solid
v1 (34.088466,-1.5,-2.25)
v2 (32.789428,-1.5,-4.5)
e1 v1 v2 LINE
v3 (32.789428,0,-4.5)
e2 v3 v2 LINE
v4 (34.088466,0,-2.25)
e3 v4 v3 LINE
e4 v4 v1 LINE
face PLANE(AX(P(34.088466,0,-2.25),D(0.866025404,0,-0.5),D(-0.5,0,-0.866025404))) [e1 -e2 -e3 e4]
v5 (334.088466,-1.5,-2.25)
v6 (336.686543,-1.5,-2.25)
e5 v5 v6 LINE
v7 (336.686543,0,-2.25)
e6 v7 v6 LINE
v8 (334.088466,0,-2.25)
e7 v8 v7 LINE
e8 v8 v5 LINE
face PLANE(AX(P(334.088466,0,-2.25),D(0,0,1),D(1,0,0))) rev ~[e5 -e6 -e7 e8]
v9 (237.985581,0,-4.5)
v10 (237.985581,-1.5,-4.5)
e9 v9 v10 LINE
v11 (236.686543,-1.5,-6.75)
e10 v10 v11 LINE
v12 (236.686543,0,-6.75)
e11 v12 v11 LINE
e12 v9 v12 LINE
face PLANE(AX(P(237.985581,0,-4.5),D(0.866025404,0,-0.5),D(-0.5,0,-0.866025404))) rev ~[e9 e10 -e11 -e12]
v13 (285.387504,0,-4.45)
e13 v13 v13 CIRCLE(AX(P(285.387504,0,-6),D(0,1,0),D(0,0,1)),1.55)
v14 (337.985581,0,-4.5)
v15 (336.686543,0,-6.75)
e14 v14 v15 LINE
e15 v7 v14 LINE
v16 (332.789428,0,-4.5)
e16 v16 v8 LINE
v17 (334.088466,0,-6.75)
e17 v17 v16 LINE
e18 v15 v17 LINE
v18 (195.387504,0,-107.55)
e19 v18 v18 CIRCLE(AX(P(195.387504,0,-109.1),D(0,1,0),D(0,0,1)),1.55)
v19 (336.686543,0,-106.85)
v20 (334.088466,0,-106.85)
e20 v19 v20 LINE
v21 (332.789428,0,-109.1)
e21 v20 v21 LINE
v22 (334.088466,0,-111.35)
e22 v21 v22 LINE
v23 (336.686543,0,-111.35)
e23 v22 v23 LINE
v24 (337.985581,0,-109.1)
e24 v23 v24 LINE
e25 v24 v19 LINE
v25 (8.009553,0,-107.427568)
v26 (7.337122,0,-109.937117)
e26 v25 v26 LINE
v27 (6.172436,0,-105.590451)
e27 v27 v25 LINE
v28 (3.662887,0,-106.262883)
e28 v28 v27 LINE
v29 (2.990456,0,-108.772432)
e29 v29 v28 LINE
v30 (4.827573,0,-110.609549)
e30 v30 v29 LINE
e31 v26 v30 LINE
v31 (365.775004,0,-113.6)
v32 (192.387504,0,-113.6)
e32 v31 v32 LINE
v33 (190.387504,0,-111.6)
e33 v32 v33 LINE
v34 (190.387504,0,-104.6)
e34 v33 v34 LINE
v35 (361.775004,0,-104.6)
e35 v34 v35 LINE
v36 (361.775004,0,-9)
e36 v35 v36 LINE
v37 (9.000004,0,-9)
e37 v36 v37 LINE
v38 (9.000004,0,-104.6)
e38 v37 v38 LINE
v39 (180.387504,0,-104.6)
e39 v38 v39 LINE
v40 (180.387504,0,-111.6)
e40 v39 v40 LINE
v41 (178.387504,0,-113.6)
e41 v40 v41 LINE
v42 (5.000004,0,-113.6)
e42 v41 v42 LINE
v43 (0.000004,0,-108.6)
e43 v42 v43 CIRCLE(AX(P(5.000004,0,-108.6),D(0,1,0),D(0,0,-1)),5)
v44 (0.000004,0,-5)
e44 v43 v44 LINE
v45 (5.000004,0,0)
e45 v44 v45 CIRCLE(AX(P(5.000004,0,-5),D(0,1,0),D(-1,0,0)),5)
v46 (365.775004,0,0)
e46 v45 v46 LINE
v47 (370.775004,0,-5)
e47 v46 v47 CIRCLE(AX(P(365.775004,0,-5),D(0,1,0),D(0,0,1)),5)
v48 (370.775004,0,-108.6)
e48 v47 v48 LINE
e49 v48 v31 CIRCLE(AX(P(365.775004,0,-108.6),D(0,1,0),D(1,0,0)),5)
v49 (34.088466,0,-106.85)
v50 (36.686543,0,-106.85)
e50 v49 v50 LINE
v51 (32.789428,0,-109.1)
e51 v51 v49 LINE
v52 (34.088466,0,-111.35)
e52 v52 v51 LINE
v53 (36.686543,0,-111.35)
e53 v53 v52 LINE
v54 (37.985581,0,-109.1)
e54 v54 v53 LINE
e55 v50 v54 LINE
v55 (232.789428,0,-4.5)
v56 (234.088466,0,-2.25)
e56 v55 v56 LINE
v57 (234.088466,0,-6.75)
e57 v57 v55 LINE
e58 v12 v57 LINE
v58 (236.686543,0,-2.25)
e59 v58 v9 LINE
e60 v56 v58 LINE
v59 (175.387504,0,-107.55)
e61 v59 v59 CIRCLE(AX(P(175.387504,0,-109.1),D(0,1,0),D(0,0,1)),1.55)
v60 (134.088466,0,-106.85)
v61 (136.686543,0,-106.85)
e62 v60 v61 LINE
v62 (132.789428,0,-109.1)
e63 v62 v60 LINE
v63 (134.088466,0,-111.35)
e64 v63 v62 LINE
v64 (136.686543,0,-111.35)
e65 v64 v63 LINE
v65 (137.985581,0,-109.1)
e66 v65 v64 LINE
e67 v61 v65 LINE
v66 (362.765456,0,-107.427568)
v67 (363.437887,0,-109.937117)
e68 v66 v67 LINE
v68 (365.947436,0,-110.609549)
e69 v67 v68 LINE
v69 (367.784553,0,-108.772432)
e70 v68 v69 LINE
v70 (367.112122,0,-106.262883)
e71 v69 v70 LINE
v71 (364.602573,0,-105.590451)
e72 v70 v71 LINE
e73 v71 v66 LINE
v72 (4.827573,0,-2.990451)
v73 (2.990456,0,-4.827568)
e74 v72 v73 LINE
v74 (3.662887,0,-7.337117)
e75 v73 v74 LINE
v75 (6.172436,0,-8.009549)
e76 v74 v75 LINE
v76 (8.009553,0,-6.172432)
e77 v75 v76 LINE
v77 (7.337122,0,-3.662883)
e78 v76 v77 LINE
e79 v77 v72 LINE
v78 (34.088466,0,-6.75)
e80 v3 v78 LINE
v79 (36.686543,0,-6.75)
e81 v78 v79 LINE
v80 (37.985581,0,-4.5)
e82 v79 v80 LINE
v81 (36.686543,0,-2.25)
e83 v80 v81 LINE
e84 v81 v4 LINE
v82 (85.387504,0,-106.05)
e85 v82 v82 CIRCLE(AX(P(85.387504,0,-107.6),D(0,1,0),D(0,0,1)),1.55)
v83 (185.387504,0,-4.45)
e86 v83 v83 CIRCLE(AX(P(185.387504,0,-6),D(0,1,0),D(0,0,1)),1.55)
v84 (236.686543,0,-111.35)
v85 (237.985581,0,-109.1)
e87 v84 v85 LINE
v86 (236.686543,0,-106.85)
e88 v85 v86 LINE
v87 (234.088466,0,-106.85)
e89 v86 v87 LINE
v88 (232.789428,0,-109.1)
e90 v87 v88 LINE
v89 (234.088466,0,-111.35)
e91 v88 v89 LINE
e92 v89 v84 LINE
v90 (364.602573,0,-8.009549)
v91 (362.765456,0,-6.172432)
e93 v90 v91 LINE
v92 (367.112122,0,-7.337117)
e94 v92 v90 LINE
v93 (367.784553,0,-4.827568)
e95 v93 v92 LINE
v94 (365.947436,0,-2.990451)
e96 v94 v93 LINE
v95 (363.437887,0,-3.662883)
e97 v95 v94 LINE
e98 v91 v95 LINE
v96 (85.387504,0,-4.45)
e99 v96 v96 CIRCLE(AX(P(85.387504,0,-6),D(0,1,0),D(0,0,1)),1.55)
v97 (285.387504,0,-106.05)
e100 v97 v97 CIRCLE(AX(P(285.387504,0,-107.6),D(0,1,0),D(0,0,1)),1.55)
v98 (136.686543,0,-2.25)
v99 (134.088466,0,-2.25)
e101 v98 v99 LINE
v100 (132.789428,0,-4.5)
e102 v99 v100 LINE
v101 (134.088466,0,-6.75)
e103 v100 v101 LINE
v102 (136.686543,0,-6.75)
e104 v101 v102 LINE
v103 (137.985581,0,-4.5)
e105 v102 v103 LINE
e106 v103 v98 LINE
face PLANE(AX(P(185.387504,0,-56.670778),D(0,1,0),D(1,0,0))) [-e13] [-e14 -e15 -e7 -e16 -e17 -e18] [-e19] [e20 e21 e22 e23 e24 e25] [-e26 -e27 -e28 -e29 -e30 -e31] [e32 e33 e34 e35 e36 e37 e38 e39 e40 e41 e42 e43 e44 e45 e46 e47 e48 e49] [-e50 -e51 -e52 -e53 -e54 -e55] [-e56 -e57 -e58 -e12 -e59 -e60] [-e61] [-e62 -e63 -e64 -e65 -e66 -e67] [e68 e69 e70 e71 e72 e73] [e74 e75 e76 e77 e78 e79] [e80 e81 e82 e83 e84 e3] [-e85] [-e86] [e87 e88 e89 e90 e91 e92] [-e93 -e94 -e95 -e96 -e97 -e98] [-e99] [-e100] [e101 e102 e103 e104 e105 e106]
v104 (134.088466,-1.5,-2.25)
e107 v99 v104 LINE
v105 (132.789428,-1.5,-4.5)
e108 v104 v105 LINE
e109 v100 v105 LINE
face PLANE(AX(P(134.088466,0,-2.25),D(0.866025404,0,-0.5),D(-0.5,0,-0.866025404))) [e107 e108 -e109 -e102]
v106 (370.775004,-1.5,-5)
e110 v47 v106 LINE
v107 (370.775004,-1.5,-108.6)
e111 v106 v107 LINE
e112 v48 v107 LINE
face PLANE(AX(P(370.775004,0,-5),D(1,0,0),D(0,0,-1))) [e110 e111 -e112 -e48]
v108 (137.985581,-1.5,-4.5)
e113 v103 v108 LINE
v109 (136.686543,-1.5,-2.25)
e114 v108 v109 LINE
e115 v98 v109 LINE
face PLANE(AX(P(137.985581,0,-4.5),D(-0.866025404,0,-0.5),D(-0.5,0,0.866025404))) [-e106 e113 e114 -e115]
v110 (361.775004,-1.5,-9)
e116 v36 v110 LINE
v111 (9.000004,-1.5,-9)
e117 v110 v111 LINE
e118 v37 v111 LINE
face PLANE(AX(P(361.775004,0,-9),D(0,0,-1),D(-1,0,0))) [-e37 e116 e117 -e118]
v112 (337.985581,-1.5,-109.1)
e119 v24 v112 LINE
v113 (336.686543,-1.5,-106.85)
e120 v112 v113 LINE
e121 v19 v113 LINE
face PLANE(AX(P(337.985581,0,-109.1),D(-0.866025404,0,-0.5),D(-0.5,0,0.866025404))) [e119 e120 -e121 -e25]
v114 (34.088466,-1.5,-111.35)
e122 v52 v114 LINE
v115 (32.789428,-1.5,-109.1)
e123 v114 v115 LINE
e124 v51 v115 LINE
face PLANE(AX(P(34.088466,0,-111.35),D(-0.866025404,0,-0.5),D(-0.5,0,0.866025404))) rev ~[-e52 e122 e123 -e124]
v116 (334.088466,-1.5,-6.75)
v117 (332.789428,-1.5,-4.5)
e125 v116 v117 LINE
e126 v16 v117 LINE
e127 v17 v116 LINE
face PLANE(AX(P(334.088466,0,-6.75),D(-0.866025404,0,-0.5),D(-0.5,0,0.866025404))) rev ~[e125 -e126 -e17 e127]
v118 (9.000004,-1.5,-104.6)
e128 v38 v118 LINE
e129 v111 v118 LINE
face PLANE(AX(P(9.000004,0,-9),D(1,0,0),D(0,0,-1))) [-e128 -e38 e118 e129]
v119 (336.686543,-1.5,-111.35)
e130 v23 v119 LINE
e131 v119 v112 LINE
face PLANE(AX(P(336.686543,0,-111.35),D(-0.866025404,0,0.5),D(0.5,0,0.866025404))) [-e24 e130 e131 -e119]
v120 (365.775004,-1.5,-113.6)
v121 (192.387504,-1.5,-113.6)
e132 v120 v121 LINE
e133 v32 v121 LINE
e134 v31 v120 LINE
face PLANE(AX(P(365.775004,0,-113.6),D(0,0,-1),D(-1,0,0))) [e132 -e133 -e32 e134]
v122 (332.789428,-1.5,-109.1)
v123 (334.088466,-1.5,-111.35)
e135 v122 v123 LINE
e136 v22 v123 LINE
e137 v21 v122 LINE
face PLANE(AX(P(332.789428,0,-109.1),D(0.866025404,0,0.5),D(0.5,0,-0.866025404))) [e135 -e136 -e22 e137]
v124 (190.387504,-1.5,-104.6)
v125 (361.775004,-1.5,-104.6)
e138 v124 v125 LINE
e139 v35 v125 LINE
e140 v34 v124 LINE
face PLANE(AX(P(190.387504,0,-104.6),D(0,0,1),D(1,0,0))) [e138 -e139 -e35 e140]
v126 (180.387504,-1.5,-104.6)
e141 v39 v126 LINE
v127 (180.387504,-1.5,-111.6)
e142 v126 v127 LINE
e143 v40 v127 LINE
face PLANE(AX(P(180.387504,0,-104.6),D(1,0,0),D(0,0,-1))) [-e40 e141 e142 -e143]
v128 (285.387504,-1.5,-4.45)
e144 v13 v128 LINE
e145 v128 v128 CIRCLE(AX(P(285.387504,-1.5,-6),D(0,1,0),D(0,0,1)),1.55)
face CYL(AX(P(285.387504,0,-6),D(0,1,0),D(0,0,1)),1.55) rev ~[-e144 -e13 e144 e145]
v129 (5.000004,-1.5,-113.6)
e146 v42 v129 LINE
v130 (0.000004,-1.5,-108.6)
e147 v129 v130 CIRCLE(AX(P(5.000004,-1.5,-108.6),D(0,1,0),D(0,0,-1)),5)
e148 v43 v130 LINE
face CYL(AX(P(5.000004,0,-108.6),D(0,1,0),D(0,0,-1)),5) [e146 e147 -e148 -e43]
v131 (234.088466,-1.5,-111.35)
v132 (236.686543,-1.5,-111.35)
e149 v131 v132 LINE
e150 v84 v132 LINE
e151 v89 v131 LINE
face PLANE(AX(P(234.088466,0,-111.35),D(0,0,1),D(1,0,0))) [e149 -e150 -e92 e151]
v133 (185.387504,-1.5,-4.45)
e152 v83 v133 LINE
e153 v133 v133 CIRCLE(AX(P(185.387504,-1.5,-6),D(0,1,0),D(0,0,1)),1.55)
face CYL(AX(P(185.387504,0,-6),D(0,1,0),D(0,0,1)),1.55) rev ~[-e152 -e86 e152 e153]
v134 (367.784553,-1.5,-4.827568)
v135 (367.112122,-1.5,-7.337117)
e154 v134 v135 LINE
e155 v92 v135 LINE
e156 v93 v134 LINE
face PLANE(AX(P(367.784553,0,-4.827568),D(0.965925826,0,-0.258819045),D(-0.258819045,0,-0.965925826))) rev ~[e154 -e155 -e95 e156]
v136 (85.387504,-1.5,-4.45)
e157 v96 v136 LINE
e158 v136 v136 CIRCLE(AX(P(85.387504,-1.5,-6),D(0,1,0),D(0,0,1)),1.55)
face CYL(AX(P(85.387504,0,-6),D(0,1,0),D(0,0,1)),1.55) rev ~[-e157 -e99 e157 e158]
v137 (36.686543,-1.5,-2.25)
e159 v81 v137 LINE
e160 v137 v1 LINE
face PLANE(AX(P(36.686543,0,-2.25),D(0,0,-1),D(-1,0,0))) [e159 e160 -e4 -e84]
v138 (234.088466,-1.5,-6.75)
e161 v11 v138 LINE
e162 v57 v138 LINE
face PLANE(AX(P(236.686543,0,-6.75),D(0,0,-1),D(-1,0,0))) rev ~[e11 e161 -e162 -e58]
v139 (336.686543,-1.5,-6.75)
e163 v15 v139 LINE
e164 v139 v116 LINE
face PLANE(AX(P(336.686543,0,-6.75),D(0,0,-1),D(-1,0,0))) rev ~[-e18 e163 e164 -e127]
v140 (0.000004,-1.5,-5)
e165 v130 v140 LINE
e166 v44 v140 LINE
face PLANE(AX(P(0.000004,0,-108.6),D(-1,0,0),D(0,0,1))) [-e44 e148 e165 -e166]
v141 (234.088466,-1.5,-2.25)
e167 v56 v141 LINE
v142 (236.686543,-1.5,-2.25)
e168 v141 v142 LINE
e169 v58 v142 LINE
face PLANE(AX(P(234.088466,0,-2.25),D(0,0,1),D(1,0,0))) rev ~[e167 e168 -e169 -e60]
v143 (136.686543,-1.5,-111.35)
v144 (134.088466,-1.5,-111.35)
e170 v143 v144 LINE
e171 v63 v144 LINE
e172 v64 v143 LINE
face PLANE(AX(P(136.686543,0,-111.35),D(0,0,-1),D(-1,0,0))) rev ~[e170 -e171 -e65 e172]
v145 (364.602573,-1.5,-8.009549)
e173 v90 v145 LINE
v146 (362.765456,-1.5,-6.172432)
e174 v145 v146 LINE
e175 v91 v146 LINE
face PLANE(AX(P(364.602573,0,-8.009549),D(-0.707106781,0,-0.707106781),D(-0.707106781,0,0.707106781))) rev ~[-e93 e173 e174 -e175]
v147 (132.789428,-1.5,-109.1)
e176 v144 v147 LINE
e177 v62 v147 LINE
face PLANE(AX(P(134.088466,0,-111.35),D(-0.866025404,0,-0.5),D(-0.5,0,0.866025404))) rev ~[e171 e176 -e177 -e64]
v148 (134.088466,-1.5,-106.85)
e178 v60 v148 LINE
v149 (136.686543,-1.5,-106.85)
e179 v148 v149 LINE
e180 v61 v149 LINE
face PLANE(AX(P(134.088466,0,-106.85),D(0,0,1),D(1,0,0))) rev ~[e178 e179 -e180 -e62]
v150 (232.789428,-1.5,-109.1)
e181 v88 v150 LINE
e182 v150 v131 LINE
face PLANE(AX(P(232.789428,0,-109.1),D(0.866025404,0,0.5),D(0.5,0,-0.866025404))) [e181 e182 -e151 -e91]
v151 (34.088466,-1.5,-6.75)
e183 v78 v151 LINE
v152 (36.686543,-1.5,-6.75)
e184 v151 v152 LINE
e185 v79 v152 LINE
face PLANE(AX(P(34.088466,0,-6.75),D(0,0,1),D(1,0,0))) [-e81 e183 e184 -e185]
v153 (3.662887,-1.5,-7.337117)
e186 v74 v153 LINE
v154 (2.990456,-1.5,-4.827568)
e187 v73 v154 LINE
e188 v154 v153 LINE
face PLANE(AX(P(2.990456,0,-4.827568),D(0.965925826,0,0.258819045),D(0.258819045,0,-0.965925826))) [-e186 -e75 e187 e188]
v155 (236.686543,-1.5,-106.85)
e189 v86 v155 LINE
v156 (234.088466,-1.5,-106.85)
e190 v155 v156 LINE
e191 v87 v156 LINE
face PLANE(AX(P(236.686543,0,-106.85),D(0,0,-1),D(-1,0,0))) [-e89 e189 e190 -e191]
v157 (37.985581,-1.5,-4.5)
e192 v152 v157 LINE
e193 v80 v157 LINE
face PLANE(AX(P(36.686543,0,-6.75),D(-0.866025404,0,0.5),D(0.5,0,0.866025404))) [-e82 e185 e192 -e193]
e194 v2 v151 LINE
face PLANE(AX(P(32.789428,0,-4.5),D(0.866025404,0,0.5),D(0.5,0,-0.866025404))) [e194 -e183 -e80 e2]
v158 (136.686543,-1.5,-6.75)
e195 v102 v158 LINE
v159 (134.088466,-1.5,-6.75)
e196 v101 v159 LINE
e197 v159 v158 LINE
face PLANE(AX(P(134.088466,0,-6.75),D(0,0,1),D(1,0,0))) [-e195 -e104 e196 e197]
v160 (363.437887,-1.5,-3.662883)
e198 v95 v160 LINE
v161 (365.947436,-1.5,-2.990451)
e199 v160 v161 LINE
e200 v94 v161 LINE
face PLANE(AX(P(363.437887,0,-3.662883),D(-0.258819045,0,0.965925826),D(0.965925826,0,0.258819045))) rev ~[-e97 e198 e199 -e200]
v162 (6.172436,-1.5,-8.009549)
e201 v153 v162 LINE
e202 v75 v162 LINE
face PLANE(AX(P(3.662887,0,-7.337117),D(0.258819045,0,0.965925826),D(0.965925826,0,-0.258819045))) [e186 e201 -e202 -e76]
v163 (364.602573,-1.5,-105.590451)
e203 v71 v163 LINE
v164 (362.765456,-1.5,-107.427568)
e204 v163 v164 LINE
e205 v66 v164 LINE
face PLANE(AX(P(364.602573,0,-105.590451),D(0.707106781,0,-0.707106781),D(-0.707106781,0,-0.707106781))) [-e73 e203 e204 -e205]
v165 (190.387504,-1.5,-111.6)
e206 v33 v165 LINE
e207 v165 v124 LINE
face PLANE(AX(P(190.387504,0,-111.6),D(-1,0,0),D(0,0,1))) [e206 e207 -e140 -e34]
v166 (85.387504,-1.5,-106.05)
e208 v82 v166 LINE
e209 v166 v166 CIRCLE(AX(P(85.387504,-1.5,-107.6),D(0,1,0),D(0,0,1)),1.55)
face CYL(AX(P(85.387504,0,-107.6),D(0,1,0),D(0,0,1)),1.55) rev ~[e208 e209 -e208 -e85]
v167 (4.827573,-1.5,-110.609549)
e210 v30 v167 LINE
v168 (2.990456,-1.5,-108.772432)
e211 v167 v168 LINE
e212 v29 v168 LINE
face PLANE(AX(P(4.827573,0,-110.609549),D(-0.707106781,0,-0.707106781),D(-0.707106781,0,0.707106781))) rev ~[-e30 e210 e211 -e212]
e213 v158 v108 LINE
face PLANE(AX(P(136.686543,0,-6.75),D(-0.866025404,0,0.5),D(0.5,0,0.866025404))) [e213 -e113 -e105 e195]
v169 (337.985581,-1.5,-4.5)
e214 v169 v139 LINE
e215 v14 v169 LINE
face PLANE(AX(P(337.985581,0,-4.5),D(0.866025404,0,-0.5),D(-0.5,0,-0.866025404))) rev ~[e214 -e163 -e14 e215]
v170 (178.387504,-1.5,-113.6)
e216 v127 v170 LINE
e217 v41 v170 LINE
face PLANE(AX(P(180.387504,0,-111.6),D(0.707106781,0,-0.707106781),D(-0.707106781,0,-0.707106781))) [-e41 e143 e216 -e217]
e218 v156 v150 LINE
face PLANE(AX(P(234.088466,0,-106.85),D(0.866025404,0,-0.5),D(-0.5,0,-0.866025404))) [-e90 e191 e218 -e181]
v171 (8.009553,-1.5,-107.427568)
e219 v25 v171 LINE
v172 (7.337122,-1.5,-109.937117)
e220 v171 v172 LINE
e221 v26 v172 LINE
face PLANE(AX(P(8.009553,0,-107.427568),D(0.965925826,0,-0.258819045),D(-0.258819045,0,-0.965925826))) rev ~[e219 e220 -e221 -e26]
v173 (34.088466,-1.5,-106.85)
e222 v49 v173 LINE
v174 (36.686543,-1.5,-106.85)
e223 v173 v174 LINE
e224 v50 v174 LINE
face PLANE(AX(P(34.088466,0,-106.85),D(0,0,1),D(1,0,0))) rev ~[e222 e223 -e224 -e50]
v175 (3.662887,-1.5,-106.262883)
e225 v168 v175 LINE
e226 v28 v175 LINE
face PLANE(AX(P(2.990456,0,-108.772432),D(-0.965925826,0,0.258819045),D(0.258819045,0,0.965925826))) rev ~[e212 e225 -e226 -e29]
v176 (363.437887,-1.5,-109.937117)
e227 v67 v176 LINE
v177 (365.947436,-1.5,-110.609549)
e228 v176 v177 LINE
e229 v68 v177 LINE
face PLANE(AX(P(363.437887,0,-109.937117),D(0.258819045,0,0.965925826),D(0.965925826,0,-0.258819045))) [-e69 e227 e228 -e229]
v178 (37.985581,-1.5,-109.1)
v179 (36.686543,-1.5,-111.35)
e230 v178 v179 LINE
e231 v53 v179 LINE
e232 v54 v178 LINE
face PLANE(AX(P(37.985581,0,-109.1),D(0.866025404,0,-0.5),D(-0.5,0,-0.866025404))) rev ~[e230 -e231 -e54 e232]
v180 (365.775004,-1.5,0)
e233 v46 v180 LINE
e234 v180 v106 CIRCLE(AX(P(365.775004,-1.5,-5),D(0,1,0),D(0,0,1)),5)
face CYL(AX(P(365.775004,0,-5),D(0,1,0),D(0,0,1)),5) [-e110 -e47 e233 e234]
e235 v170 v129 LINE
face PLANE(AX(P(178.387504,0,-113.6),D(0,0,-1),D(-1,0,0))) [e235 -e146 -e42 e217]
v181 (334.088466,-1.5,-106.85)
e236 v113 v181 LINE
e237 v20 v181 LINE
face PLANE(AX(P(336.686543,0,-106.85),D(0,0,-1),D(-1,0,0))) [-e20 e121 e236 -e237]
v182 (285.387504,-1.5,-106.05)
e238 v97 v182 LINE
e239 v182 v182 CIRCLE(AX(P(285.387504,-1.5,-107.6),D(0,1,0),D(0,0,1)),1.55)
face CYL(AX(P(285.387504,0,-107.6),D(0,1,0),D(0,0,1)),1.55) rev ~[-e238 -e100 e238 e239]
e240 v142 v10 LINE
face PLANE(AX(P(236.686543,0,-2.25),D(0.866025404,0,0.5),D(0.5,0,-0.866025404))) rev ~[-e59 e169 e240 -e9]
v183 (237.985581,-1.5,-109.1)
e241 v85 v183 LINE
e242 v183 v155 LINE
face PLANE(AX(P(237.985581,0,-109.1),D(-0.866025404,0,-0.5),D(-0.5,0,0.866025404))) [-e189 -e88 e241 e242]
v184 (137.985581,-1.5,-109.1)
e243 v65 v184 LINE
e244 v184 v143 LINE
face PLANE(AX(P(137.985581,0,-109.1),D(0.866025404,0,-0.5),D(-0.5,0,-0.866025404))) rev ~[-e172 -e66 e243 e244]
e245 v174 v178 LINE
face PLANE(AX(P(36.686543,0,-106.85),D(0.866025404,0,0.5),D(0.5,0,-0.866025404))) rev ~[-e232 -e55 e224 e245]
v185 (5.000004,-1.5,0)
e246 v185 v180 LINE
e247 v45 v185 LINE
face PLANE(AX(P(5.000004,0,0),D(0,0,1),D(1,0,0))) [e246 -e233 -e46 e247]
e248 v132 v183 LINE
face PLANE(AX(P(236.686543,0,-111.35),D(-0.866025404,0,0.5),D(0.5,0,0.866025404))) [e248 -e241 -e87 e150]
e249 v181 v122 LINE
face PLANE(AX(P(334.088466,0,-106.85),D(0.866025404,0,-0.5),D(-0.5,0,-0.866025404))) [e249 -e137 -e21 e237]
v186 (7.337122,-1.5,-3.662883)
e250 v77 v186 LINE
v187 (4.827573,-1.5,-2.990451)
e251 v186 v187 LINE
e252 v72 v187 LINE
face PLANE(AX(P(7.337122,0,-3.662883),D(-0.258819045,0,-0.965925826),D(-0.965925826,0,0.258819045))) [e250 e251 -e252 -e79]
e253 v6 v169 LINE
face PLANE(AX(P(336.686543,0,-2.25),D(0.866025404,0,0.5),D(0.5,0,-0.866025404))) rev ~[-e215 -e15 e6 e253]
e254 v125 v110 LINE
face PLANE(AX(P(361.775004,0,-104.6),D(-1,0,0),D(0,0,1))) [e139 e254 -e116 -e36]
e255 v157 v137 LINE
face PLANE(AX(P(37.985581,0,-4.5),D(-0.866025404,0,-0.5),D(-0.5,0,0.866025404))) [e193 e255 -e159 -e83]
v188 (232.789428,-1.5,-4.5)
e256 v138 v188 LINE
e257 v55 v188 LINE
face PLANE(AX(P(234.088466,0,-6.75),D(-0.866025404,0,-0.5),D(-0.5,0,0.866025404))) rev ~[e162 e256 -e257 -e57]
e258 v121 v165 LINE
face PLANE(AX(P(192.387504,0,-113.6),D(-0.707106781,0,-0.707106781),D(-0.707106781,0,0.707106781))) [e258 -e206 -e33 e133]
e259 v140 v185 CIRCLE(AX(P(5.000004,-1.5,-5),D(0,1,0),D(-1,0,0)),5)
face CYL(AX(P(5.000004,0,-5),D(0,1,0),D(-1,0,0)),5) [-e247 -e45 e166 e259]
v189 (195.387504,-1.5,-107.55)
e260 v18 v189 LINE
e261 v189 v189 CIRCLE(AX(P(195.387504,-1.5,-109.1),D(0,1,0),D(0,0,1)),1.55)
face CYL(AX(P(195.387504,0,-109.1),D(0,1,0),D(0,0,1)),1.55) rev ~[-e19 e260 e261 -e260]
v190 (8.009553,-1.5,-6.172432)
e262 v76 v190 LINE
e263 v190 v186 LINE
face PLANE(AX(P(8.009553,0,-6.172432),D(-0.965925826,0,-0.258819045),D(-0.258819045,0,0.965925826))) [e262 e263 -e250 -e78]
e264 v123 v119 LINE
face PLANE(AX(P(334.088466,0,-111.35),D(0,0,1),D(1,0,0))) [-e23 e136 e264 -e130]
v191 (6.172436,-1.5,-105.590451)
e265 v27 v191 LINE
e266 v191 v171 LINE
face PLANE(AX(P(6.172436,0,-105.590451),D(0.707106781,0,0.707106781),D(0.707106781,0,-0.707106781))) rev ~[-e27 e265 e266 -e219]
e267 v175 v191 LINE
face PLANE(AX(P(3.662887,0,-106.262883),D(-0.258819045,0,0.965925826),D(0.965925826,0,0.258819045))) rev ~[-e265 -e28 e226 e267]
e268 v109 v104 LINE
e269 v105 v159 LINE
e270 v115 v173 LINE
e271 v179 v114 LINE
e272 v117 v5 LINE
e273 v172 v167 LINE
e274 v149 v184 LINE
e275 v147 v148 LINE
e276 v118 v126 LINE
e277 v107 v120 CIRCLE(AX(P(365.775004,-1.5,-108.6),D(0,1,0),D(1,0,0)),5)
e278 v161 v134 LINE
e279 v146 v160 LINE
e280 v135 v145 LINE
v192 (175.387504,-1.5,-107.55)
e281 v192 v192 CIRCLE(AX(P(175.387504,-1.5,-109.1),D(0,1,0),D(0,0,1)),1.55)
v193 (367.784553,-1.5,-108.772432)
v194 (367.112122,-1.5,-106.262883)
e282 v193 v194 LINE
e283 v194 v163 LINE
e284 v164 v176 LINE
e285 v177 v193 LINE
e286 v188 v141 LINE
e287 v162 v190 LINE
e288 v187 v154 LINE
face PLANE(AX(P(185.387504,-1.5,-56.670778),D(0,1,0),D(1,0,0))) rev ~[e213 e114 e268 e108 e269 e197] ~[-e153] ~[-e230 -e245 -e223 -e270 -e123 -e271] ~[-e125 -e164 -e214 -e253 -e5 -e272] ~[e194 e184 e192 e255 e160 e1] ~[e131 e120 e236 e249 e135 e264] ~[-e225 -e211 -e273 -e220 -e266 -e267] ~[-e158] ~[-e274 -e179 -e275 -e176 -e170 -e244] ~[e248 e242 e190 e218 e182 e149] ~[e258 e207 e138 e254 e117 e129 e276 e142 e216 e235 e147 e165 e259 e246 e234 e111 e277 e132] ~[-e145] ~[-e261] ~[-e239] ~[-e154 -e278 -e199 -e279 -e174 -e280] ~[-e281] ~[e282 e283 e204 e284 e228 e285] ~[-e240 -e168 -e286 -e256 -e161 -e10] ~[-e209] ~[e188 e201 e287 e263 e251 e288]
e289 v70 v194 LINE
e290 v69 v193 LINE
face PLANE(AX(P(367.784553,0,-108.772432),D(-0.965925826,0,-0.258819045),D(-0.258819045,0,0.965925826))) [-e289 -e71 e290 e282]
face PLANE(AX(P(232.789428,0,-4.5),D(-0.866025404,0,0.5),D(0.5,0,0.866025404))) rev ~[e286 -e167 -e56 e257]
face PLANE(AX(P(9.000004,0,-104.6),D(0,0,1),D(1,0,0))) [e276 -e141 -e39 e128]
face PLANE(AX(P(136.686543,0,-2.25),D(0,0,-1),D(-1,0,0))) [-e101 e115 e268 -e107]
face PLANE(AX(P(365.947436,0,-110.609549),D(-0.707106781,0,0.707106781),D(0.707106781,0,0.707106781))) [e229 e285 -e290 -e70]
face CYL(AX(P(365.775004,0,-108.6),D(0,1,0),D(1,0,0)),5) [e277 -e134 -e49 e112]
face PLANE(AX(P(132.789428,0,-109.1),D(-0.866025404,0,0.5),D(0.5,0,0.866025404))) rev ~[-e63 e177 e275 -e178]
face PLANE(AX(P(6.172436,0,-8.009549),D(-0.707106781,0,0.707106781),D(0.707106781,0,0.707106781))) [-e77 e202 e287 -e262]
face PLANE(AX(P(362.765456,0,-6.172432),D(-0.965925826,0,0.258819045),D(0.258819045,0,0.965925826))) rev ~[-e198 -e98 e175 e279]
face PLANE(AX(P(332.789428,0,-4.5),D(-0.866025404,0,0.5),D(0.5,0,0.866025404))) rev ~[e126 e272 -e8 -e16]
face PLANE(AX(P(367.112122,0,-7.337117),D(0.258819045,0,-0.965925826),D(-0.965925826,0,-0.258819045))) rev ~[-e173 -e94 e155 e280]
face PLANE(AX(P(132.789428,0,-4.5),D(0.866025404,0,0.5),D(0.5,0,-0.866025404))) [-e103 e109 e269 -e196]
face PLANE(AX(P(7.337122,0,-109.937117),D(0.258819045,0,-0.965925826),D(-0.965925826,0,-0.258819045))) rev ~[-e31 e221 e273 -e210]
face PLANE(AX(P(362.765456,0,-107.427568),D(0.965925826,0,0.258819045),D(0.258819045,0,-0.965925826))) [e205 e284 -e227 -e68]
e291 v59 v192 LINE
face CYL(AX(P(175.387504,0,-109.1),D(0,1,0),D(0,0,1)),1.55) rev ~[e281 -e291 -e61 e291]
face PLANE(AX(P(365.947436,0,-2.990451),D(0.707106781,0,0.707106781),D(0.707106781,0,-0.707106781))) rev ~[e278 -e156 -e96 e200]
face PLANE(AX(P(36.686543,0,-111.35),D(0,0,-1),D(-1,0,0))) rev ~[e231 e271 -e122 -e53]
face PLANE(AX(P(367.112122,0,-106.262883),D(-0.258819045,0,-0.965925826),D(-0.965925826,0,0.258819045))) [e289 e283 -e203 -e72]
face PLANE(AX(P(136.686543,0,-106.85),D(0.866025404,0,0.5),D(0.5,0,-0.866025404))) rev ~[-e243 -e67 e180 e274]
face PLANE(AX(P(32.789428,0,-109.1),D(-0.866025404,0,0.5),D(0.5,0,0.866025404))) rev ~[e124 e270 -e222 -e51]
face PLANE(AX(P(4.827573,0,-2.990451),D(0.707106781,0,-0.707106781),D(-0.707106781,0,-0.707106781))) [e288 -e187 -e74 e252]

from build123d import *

# Parameters (mm, degrees)
SKETCH1_R           = 1.55
BOSS_EXTRUDE1_DEPTH = 1.5


with BuildPart() as part:
    # Sketch1 → Boss-Extrude1 (new body)
    with BuildSketch(Plane(origin=(0, 0, 0), x_dir=(1, 0, 0), z_dir=(0, 1, 0))):
        with BuildLine():
            Line((4.482e-06, 108.600000064), (4.482e-06, 5.000000064))
            ThreePointArc((4.482e-06, 5.000000064), (1.464470576, 1.464466159), (5.000004482, 6.4e-08))
            Line((5.000004482, 6.4e-08), (365.775004482, 6.4e-08))
            ThreePointArc((365.775004482, 6.4e-08), (369.310538388, 1.464466159), (370.775004482, 5.000000064))
            Line((370.775004482, 5.000000064), (370.775004482, 108.600000064))
            ThreePointArc((370.775004482, 108.600000064), (369.310538388, 112.13553397), (365.775004482, 113.600000064))
            Line((365.775004482, 113.600000064), (192.387504482, 113.600000064))
            Line((192.387504482, 113.600000064), (190.387504482, 111.600000064))
            Line((190.387504482, 111.600000064), (190.387504482, 104.600000064))
            Line((190.387504482, 104.600000064), (361.775004482, 104.600000064))
            Line((361.775004482, 104.600000064), (361.775004482, 9.000000064))
            Line((361.775004482, 9.000000064), (9.000004482, 9.000000064))
            Line((9.000004482, 9.000000064), (9.000004482, 104.600000064))
            Line((9.000004482, 104.600000064), (180.387504482, 104.600000064))
            Line((180.387504482, 104.600000064), (180.387504482, 111.600000064))
            Line((180.387504482, 111.600000064), (178.387504482, 113.600000064))
            Line((178.387504482, 113.600000064), (5.000004482, 113.600000064))
            ThreePointArc((5.000004482, 113.600000064), (1.464470576, 112.13553397), (4.482e-06, 108.600000064))
        make_face()
        with Locations(Location((195.387504482, 109.100000064, 0), (0, 0, 270))):
            Circle(SKETCH1_R, mode=Mode.SUBTRACT)
        with Locations(Location((175.387504482, 109.100000064, 0), (0, 0, 270))):
            Circle(SKETCH1_R, mode=Mode.SUBTRACT)
        with Locations(Location((85.387504482, 107.600000064, 0), (0, 0, 270))):
            Circle(SKETCH1_R, mode=Mode.SUBTRACT)
        with Locations(Location((285.387504482, 107.600000064, 0), (0, 0, 270))):
            Circle(SKETCH1_R, mode=Mode.SUBTRACT)
        with Locations(Location((85.387504482, 6.000000064, 0), (0, 0, 270))):
            Circle(SKETCH1_R, mode=Mode.SUBTRACT)
        with Locations(Location((185.387504482, 6.000000064, 0), (0, 0, 270))):
            Circle(SKETCH1_R, mode=Mode.SUBTRACT)
        with Locations(Location((285.387504482, 6.000000064, 0), (0, 0, 270))):
            Circle(SKETCH1_R, mode=Mode.SUBTRACT)
        Polygon((234.088466376, 111.350000064), (236.686542588, 111.350000064), (237.985580693, 109.100000064), (236.686542588, 106.850000064), (234.088466376, 106.850000064), (232.789428271, 109.100000064), align=None, mode=Mode.SUBTRACT)
        Polygon((334.088466376, 111.350000064), (336.686542588, 111.350000064), (337.985580693, 109.100000064), (336.686542588, 106.850000064), (334.088466376, 106.850000064), (332.789428271, 109.100000064), align=None, mode=Mode.SUBTRACT)
        Polygon((365.947436086, 110.609548976), (367.784553393, 108.772431669), (367.112121789, 106.262882757), (364.602572878, 105.590451153), (362.765455571, 107.42756846), (363.437887175, 109.937117372), align=None, mode=Mode.SUBTRACT)
        Polygon((136.686542588, 111.350000064), (134.088466376, 111.350000064), (132.789428271, 109.100000064), (134.088466376, 106.850000064), (136.686542588, 106.850000064), (137.985580693, 109.100000064), align=None, mode=Mode.SUBTRACT)
        Polygon((36.686542588, 111.350000064), (34.088466376, 111.350000064), (32.789428271, 109.100000064), (34.088466376, 106.850000064), (36.686542588, 106.850000064), (37.985580693, 109.100000064), align=None, mode=Mode.SUBTRACT)
        Polygon((4.827572878, 110.609548976), (2.990455571, 108.772431669), (3.662887175, 106.262882757), (6.172436086, 105.590451153), (8.009553393, 107.42756846), (7.337121789, 109.937117372), align=None, mode=Mode.SUBTRACT)
        Polygon((234.088466376, 2.250000064), (236.686542588, 2.250000064), (237.985580693, 4.500000064), (236.686542588, 6.750000064), (234.088466376, 6.750000064), (232.789428271, 4.500000064), align=None, mode=Mode.SUBTRACT)
        Polygon((334.088466376, 2.250000064), (336.686542588, 2.250000064), (337.985580693, 4.500000064), (336.686542588, 6.750000064), (334.088466376, 6.750000064), (332.789428271, 4.500000064), align=None, mode=Mode.SUBTRACT)
        Polygon((365.947436086, 2.990451153), (367.784553393, 4.82756846), (367.112121789, 7.337117372), (364.602572878, 8.009548976), (362.765455571, 6.172431669), (363.437887175, 3.662882757), align=None, mode=Mode.SUBTRACT)
        Polygon((136.686542588, 2.250000064), (134.088466376, 2.250000064), (132.789428271, 4.500000064), (134.088466376, 6.750000064), (136.686542588, 6.750000064), (137.985580693, 4.500000064), align=None, mode=Mode.SUBTRACT)
        Polygon((36.686542588, 2.250000064), (34.088466376, 2.250000064), (32.789428271, 4.500000064), (34.088466376, 6.750000064), (36.686542588, 6.750000064), (37.985580693, 4.500000064), align=None, mode=Mode.SUBTRACT)
        Polygon((4.827572878, 2.990451153), (2.990455571, 4.82756846), (3.662887175, 7.337117372), (6.172436086, 8.009548976), (8.009553393, 6.172431669), (7.337121789, 3.662882757), align=None, mode=Mode.SUBTRACT)
    extrude(amount=-BOSS_EXTRUDE1_DEPTH)


solid = part.part
